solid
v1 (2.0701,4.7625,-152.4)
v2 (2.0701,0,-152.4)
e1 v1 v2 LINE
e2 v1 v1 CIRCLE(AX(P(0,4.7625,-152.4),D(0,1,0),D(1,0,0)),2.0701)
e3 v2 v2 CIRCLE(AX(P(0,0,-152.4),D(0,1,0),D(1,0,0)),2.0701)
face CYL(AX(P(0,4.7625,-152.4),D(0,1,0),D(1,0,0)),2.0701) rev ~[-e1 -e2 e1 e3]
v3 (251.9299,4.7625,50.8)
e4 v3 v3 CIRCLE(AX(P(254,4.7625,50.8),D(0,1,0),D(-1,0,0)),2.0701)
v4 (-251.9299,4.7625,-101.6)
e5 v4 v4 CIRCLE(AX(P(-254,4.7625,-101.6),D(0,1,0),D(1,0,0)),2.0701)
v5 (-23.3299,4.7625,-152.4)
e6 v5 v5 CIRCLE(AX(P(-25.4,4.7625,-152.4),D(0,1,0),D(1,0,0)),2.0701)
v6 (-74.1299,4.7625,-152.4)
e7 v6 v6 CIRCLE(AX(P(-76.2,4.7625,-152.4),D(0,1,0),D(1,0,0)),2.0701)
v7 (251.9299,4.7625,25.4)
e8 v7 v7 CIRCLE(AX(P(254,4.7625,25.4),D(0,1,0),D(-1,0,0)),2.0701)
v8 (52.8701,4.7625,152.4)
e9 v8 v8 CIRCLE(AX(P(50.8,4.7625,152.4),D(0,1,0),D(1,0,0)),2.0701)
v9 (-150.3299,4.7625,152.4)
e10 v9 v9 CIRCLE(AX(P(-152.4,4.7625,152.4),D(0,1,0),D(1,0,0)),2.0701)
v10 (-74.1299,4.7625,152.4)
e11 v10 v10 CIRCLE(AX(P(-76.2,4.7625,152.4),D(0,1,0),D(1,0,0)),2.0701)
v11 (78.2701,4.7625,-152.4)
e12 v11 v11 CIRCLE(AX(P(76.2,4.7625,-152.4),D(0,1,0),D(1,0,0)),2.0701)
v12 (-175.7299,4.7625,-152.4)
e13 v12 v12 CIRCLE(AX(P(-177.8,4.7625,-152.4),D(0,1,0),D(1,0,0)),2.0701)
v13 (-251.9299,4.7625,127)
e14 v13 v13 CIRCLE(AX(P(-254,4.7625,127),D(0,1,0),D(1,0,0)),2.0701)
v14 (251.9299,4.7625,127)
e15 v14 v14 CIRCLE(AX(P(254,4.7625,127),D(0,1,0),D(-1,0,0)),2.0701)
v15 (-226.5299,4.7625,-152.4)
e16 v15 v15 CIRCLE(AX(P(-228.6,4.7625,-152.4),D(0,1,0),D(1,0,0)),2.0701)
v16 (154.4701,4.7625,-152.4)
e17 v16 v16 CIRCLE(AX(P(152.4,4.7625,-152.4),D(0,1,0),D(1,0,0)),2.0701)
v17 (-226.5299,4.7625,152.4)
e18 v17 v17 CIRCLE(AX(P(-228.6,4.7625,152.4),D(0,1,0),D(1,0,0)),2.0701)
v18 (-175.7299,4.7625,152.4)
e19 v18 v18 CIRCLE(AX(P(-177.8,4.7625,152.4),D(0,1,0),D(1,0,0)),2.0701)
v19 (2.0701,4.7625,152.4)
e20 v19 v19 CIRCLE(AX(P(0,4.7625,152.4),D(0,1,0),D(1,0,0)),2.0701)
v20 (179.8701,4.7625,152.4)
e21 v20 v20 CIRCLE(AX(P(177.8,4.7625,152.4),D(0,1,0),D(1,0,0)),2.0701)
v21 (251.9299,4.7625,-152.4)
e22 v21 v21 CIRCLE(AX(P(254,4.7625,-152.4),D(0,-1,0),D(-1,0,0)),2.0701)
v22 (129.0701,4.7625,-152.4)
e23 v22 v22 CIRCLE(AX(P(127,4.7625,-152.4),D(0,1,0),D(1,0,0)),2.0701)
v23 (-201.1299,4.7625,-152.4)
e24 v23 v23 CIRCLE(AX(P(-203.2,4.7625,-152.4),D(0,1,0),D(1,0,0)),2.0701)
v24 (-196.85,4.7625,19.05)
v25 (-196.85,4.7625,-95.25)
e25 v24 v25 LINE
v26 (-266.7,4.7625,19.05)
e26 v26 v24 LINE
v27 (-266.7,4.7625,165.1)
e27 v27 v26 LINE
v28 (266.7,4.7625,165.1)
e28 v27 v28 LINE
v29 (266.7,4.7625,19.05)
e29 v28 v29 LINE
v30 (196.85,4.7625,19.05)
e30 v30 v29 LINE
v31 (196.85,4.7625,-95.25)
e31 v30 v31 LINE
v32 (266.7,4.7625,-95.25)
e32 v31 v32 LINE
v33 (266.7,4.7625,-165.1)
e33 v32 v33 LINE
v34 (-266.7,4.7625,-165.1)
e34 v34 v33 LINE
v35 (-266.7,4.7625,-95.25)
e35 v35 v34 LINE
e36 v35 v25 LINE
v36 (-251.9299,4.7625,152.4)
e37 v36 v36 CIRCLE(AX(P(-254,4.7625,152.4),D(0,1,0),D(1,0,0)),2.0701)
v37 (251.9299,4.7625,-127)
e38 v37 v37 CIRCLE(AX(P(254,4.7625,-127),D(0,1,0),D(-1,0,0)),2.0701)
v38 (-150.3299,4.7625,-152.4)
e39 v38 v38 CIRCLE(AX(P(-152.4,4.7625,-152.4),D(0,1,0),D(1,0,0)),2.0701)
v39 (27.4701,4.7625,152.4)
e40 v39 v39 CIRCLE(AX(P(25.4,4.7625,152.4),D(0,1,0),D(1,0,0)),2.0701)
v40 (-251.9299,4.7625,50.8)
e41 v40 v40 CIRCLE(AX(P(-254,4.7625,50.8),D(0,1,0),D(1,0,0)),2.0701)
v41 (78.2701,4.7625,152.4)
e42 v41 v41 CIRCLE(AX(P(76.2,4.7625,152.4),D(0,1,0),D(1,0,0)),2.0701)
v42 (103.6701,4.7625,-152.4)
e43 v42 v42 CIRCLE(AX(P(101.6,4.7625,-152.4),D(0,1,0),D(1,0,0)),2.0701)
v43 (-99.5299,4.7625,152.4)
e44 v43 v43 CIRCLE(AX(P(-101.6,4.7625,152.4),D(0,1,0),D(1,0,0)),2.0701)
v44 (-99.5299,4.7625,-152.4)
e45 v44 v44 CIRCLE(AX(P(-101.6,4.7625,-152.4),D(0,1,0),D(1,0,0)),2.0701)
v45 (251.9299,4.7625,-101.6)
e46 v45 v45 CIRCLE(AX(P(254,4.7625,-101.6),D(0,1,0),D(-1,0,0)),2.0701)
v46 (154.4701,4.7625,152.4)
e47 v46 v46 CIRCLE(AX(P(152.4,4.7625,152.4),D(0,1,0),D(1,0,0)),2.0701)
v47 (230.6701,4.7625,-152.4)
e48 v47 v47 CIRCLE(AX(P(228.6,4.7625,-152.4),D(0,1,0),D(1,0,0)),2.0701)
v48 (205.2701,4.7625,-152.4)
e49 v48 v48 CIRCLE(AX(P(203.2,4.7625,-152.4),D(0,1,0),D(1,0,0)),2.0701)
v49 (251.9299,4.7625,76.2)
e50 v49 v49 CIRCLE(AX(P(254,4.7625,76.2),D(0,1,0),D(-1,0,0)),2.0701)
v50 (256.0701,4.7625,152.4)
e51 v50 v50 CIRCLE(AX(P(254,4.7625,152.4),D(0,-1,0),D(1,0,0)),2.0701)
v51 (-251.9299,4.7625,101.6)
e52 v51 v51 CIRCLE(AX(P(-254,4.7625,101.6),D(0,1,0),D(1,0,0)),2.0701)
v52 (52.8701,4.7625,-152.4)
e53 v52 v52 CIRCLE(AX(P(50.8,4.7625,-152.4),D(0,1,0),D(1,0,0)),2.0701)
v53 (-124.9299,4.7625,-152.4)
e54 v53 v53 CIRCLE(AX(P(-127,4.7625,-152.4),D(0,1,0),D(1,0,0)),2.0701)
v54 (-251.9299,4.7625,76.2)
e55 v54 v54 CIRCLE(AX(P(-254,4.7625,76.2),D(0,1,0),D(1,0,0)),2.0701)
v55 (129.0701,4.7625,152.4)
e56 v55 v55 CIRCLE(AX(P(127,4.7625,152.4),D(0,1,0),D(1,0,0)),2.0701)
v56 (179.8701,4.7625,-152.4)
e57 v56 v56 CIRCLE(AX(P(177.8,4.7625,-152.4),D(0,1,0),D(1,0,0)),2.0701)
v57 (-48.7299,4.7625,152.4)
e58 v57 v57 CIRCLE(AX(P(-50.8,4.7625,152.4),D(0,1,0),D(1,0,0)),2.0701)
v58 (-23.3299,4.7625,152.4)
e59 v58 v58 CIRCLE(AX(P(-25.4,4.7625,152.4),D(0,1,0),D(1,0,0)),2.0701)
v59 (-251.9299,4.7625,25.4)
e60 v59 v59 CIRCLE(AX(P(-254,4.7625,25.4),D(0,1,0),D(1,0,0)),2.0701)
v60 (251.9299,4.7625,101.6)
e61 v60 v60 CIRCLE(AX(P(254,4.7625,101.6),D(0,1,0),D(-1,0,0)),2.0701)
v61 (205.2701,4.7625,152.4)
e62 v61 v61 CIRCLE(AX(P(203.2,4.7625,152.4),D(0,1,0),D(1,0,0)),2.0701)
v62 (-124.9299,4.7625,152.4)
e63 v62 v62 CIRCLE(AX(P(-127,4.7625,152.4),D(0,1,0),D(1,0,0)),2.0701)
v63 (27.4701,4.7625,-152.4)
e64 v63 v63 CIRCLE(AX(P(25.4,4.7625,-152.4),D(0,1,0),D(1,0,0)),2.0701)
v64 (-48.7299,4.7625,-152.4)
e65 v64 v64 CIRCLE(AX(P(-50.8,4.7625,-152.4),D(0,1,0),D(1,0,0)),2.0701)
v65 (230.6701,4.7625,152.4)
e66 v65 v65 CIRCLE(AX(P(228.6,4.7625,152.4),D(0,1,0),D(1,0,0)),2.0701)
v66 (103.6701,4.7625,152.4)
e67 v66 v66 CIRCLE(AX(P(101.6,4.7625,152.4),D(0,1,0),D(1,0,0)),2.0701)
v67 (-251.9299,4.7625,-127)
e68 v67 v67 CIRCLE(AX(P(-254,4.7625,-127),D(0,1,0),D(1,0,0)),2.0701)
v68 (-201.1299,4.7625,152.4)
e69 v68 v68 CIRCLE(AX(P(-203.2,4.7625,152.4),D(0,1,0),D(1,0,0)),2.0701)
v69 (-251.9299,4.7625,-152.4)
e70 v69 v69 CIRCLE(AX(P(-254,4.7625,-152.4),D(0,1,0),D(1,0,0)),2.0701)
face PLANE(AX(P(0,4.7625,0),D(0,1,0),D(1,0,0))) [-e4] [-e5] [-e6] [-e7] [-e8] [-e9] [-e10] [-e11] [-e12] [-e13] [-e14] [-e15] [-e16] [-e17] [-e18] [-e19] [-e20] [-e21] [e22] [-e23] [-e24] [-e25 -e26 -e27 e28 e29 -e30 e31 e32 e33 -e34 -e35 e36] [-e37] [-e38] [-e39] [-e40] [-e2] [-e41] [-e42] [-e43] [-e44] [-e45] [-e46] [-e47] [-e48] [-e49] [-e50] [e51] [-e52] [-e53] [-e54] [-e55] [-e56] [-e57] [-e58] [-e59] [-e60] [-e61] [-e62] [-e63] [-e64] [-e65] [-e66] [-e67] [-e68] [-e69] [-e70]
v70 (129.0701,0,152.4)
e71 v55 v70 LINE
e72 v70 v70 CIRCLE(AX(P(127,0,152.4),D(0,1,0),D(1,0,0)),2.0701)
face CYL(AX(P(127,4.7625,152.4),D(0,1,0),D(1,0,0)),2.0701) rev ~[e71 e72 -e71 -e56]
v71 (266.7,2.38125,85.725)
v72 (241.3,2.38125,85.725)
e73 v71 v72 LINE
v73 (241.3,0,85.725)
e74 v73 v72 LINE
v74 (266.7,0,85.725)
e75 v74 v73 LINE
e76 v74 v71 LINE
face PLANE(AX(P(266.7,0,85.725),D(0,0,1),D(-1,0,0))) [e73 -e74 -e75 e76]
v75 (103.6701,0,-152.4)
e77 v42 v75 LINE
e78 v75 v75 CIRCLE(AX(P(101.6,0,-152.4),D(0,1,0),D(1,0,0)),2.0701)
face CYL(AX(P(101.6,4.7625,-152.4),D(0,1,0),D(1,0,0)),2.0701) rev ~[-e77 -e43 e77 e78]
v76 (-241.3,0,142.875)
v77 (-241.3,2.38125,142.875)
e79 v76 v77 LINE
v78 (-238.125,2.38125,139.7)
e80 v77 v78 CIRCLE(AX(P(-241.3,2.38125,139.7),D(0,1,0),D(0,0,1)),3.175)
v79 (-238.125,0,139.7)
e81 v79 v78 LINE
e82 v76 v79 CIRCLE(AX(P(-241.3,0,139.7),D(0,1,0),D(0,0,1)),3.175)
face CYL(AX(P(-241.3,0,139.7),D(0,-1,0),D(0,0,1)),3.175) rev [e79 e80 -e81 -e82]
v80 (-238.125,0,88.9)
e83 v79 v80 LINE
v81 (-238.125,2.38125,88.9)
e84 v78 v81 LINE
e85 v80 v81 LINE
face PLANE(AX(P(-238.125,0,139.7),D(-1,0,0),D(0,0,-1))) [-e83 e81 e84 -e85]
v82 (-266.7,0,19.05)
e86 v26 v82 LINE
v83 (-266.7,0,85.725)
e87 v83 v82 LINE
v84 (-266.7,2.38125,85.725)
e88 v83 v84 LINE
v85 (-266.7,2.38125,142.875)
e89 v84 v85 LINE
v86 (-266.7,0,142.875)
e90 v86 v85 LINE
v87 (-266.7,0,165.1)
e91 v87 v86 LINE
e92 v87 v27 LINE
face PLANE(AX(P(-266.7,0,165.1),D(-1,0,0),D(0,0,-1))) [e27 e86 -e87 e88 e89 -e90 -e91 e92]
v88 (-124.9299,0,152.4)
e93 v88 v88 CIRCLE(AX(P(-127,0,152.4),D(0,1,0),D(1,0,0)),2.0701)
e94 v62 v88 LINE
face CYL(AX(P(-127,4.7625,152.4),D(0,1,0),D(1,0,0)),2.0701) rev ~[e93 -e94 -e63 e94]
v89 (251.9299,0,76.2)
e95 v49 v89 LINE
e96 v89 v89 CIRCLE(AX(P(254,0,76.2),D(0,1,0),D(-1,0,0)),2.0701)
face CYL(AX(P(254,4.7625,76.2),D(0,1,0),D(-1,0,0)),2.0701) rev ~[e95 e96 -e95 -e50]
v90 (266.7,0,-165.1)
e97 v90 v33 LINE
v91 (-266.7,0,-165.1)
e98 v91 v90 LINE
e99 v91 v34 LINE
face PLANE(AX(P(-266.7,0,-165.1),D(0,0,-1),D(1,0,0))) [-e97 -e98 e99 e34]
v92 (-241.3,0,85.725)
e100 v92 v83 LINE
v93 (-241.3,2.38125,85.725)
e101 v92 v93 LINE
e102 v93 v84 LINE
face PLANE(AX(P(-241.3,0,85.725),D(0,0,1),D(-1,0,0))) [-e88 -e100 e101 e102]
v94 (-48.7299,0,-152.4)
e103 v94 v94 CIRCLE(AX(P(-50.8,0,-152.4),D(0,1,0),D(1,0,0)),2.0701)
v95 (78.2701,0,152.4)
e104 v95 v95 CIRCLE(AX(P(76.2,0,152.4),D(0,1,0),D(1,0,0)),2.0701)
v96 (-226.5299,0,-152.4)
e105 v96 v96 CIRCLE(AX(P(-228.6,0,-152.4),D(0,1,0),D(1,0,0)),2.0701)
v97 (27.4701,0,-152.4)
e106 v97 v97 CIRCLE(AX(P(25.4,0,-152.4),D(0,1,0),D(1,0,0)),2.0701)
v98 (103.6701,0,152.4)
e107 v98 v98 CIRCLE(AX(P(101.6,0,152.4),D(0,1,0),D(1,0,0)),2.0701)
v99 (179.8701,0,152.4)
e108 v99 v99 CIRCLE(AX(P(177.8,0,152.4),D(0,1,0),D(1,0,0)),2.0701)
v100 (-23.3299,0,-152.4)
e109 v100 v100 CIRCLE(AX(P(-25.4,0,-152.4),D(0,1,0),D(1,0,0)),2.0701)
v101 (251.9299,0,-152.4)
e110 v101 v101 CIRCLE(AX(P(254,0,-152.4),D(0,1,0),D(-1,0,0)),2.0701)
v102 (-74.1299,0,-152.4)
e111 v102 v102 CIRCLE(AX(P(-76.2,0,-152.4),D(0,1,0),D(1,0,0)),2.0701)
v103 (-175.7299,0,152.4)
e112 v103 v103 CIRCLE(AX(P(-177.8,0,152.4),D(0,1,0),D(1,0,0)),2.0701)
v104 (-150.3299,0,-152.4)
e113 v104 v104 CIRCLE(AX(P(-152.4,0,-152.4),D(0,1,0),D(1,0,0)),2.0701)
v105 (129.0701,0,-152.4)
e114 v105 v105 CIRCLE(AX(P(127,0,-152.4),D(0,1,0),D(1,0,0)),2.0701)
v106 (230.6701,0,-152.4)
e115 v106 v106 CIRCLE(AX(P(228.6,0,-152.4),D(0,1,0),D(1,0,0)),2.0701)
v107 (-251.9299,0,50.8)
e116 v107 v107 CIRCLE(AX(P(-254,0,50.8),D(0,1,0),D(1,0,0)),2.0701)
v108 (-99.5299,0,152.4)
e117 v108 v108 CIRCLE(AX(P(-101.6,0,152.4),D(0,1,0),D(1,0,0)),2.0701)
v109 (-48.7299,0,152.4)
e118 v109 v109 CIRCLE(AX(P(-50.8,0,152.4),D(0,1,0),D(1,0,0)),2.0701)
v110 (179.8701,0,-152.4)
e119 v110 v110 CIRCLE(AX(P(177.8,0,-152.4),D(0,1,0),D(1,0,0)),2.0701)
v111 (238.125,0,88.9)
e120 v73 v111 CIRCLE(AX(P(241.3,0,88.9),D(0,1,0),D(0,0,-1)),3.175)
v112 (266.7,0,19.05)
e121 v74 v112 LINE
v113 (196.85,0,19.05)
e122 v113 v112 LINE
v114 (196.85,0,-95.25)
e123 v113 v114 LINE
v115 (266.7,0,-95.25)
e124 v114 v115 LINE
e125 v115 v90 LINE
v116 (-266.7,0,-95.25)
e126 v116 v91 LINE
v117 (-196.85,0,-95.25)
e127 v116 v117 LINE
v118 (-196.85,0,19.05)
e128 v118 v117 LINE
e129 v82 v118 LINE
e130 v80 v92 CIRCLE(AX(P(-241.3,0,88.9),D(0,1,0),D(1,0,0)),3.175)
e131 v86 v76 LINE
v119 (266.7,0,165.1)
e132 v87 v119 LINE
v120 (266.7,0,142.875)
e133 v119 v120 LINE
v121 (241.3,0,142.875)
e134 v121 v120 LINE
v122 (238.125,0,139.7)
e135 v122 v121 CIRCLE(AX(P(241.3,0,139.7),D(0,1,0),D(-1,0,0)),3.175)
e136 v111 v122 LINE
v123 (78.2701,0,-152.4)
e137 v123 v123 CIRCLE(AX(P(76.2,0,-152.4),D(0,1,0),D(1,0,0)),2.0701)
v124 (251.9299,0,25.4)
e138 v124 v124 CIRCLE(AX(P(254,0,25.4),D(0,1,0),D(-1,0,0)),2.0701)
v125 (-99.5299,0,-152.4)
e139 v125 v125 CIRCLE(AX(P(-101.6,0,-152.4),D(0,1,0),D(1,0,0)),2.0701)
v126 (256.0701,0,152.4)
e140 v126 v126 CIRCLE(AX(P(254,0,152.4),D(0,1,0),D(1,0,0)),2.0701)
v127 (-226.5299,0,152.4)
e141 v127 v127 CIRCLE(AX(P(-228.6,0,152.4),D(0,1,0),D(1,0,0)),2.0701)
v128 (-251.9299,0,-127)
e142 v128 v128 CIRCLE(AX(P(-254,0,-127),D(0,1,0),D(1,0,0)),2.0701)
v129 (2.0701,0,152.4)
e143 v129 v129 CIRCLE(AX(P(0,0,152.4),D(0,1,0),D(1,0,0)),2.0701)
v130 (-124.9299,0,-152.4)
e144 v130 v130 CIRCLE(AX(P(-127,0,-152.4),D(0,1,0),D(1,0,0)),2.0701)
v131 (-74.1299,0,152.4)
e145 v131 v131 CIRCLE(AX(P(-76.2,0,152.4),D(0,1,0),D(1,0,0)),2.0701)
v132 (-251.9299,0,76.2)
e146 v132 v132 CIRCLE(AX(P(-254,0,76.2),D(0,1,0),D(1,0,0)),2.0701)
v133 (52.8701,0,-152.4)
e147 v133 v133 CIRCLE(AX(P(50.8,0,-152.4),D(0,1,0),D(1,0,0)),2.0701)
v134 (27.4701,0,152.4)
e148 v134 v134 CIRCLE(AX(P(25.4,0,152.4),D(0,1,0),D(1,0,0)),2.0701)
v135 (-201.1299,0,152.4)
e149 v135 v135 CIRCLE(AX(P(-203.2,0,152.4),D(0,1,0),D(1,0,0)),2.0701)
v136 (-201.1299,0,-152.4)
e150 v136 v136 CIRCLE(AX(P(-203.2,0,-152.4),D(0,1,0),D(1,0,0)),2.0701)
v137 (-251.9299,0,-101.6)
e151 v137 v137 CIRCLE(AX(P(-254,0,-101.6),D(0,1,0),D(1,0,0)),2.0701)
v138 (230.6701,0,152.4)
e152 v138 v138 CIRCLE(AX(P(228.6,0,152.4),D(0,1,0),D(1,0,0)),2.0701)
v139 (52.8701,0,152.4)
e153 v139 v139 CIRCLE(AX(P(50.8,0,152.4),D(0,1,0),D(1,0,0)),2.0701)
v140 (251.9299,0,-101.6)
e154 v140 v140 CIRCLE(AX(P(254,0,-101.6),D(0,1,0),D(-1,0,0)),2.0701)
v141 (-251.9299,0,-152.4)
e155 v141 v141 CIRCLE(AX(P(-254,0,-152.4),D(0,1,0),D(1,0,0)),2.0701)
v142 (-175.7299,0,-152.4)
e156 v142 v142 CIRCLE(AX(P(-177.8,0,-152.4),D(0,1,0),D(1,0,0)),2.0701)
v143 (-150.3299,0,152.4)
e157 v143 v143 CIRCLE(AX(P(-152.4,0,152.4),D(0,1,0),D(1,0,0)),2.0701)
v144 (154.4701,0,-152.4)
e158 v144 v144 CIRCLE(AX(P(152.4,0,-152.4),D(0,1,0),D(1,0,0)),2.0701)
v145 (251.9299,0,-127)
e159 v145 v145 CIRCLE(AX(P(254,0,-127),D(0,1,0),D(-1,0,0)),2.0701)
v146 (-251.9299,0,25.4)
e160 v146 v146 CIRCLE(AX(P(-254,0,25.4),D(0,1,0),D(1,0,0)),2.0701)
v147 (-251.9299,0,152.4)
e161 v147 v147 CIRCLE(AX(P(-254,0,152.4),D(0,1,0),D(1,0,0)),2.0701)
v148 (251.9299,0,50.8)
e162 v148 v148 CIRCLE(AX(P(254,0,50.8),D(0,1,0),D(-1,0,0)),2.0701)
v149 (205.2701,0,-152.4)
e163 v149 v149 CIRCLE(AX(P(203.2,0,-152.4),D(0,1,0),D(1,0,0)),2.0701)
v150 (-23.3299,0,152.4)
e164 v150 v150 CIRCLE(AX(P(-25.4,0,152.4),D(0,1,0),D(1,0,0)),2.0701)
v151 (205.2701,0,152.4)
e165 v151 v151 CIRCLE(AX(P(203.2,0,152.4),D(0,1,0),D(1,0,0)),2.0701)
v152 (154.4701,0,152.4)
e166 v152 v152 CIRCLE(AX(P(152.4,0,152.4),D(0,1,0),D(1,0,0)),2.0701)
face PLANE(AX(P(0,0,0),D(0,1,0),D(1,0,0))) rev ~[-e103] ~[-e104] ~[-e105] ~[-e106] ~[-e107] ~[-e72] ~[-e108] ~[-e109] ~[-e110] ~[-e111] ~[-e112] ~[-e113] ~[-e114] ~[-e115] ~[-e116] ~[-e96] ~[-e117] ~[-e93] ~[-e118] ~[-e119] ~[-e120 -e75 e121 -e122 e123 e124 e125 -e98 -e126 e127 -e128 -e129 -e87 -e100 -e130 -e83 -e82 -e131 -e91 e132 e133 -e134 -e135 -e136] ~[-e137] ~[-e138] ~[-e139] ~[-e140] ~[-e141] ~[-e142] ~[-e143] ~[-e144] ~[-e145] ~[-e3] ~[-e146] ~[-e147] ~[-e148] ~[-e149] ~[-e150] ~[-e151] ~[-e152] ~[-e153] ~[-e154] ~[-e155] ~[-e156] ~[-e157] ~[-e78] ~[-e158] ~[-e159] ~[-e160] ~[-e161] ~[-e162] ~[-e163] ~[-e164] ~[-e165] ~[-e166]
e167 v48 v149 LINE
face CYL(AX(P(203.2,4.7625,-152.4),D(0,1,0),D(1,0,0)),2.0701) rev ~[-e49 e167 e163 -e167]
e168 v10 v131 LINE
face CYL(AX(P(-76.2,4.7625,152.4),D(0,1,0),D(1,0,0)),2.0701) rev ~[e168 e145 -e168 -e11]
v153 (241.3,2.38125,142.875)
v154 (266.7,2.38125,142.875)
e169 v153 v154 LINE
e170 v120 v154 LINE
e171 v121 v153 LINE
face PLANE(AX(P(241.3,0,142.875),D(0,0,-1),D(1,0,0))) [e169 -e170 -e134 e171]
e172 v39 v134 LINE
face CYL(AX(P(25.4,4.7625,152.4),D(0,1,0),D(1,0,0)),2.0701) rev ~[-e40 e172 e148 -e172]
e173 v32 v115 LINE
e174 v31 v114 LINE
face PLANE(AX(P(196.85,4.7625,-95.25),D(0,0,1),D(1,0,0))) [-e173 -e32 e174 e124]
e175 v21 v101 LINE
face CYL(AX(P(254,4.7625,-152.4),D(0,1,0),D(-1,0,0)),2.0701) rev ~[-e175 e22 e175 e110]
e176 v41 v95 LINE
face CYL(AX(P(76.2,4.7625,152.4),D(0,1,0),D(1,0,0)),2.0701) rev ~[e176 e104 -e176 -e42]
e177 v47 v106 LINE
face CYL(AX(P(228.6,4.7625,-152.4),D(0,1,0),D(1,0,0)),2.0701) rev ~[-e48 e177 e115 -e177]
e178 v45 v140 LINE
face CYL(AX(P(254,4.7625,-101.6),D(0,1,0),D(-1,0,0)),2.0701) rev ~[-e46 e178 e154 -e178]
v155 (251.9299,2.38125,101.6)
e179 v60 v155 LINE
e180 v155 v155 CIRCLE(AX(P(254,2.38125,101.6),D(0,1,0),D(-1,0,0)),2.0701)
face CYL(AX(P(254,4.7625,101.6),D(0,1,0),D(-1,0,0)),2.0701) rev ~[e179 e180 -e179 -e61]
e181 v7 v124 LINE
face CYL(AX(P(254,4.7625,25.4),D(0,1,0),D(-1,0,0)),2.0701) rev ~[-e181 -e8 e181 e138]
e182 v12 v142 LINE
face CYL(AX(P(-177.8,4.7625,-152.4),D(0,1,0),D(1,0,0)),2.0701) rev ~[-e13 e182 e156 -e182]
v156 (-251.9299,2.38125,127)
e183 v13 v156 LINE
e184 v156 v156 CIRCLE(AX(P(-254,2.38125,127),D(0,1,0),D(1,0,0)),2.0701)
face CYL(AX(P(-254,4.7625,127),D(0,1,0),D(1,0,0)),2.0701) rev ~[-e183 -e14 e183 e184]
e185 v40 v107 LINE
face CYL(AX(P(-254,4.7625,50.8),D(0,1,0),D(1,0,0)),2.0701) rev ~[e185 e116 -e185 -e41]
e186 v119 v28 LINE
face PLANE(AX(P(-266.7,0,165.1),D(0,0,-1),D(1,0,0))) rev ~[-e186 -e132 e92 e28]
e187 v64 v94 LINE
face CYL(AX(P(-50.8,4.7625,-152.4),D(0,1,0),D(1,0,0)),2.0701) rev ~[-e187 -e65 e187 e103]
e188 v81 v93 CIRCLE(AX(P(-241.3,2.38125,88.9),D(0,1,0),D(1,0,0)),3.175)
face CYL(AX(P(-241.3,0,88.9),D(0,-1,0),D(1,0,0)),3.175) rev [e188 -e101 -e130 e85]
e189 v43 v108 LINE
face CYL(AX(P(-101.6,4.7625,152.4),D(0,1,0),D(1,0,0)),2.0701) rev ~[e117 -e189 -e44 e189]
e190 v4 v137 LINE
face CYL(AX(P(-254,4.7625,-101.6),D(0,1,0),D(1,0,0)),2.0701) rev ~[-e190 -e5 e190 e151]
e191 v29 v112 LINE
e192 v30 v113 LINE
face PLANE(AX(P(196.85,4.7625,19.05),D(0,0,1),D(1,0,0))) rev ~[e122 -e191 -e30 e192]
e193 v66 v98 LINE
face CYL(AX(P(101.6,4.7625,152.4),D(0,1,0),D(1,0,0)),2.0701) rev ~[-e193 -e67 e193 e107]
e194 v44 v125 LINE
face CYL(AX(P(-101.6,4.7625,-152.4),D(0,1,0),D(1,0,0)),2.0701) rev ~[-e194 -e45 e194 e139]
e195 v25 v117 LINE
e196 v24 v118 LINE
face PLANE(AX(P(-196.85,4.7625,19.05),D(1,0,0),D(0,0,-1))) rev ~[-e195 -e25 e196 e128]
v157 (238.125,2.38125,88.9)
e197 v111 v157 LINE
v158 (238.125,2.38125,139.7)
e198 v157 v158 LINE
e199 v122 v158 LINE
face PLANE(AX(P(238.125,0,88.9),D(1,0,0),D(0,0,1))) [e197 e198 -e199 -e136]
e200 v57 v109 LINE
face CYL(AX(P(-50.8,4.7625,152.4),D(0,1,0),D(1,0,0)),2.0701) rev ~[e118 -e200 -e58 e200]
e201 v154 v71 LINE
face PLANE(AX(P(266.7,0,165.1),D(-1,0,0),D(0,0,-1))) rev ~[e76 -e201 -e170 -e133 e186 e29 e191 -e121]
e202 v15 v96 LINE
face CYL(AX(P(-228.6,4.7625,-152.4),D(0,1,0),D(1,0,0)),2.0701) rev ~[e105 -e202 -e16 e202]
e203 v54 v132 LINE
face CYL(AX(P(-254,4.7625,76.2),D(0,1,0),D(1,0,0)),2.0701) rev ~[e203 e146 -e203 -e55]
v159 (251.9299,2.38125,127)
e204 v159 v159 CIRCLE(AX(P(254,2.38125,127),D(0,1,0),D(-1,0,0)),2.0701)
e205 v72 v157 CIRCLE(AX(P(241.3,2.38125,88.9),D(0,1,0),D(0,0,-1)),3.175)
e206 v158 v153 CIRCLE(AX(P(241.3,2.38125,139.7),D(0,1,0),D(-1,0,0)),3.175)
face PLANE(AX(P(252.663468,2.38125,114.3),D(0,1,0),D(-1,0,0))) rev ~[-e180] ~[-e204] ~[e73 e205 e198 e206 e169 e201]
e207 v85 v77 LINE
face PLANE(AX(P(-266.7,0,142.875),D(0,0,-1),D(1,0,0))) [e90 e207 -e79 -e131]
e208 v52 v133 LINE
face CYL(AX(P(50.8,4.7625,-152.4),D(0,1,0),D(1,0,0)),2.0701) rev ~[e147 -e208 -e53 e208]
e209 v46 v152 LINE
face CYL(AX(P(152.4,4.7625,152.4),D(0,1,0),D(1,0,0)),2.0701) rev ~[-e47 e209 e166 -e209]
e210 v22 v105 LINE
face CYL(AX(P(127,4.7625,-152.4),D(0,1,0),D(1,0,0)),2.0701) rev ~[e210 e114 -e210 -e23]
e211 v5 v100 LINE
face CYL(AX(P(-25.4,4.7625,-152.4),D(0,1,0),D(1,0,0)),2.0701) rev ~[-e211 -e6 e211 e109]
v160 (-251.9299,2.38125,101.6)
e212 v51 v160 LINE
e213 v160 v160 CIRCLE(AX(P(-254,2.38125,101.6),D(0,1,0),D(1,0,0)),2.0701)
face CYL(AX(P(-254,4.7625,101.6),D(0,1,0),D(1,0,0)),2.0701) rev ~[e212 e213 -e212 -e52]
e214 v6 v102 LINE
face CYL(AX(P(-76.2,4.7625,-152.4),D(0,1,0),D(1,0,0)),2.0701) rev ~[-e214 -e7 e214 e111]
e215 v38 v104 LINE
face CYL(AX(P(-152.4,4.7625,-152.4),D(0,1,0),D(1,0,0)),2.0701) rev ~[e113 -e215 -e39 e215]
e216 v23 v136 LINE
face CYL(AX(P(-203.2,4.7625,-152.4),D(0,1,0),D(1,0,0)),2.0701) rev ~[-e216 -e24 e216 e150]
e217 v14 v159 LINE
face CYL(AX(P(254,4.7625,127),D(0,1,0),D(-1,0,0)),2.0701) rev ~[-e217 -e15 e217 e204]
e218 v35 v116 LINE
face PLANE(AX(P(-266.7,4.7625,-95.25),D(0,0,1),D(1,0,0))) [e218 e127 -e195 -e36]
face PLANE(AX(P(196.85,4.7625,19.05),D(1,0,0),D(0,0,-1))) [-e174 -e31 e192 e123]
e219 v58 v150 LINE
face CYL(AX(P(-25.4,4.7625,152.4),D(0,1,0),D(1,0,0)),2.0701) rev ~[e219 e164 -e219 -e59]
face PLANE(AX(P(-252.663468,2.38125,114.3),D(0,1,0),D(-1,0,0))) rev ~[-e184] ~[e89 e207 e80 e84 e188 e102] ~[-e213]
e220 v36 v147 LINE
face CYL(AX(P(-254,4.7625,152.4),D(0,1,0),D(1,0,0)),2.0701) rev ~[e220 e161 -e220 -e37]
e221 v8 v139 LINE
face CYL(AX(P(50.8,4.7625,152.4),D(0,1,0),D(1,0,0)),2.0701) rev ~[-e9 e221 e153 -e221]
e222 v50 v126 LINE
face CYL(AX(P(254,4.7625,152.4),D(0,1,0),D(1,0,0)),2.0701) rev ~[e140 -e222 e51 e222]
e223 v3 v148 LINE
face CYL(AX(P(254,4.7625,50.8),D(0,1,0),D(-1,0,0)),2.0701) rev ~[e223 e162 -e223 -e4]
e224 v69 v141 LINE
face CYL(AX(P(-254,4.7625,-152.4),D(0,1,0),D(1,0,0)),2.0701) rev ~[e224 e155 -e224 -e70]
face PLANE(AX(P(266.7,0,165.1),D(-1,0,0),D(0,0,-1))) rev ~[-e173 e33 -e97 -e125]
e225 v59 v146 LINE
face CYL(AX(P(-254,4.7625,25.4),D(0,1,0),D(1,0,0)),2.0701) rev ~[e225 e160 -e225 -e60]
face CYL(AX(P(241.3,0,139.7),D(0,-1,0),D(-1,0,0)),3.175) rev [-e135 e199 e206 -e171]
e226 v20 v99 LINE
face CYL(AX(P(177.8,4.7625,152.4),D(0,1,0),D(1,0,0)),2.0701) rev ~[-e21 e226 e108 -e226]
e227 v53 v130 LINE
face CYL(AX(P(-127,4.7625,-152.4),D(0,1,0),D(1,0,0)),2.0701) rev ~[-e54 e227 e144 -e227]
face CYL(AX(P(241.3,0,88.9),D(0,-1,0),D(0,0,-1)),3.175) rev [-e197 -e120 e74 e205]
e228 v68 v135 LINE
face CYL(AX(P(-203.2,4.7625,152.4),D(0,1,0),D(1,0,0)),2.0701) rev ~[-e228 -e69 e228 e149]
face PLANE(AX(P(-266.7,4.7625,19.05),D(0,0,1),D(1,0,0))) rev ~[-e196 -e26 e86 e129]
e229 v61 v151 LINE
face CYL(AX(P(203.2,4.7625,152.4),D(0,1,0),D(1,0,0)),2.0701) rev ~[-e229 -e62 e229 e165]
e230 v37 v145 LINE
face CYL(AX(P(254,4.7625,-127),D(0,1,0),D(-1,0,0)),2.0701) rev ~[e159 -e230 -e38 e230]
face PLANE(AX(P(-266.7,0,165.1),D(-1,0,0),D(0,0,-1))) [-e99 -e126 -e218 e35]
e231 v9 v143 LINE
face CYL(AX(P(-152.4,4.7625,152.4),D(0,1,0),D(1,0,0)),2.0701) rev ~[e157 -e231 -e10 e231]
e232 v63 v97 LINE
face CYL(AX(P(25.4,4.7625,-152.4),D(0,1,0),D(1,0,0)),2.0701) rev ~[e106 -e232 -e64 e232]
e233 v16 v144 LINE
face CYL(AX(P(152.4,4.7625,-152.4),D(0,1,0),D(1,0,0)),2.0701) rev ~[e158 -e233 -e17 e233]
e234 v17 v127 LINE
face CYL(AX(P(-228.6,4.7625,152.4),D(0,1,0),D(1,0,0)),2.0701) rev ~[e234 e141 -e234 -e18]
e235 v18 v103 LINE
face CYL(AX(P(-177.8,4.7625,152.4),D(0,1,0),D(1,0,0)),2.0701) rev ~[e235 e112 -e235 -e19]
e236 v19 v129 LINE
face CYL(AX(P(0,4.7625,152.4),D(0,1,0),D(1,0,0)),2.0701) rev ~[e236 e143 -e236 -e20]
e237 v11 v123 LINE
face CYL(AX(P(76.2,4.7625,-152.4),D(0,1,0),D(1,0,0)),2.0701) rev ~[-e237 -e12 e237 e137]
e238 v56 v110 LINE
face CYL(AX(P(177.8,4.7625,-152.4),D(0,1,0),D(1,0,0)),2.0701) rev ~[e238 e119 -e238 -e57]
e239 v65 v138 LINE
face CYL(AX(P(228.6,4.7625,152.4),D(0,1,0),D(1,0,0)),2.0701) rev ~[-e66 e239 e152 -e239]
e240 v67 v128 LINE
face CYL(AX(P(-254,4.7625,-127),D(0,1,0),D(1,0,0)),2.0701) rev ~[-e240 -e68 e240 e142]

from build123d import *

# Parameters (mm, degrees)
SKETCH1_W                = 533.4
SKETCH1_H                = 330.2
BOSS_EXTRUDE1_DEPTH      = 4.7625
SKETCH2_R                = 2.0701
CUT_EXTRUDE1_DEPTH       = 5.7625
LPATTERN1_COUNT          = 23
LPATTERN1_PITCH          = 25.4
LPATTERN2_COUNT          = 32
LPATTERN2_PITCH          = 25.4
MIRROR2_COPY_1_SKETCH_R  = 2.0701
MIRROR2_COPY_1_DEPTH     = 5.7625
MIRROR2_COPY_2_SKETCH_R  = 2.0701
MIRROR2_COPY_2_DEPTH     = 5.7625
MIRROR2_COPY_3_SKETCH_R  = 2.0701
MIRROR2_COPY_3_DEPTH     = 5.7625
MIRROR2_COPY_4_SKETCH_R  = 2.0701
MIRROR2_COPY_4_DEPTH     = 5.7625
MIRROR2_COPY_5_SKETCH_R  = 2.0701
MIRROR2_COPY_5_DEPTH     = 5.7625
MIRROR2_COPY_6_SKETCH_R  = 2.0701
MIRROR2_COPY_6_DEPTH     = 5.7625
MIRROR2_COPY_7_SKETCH_R  = 2.0701
MIRROR2_COPY_7_DEPTH     = 5.7625
MIRROR2_COPY_8_SKETCH_R  = 2.0701
MIRROR2_COPY_8_DEPTH     = 5.7625
MIRROR2_COPY_9_SKETCH_R  = 2.0701
MIRROR2_COPY_9_DEPTH     = 5.7625
MIRROR2_COPY_10_SKETCH_R = 2.0701
MIRROR2_COPY_10_DEPTH    = 5.7625
MIRROR2_COPY_11_SKETCH_R = 2.0701
MIRROR2_COPY_11_DEPTH    = 5.7625
MIRROR2_COPY_12_SKETCH_R = 2.0701
MIRROR2_COPY_12_DEPTH    = 5.7625
MIRROR2_COPY_13_SKETCH_R = 2.0701
MIRROR2_COPY_13_DEPTH    = 5.7625
MIRROR2_COPY_14_SKETCH_R = 2.0701
MIRROR2_COPY_14_DEPTH    = 5.7625
MIRROR2_COPY_15_SKETCH_R = 2.0701
MIRROR2_COPY_15_DEPTH    = 5.7625
MIRROR2_COPY_16_SKETCH_R = 2.0701
MIRROR2_COPY_16_DEPTH    = 5.7625
MIRROR2_COPY_17_SKETCH_R = 2.0701
MIRROR2_COPY_17_DEPTH    = 5.7625
MIRROR2_COPY_18_SKETCH_R = 2.0701
MIRROR2_COPY_18_DEPTH    = 5.7625
MIRROR2_COPY_19_SKETCH_R = 2.0701
MIRROR2_COPY_19_DEPTH    = 5.7625
MIRROR2_COPY_20_SKETCH_R = 2.0701
MIRROR2_COPY_20_DEPTH    = 5.7625
MIRROR2_COPY_21_SKETCH_R = 2.0701
MIRROR2_COPY_21_DEPTH    = 5.7625
MIRROR2_COPY_22_SKETCH_R = 2.0701
MIRROR2_COPY_22_DEPTH    = 5.7625
MIRROR2_COPY_23_SKETCH_R = 2.0701
MIRROR2_COPY_23_DEPTH    = 5.7625
MIRROR2_COPY_24_SKETCH_R = 2.0701
MIRROR2_COPY_24_DEPTH    = 5.7625
MIRROR2_COPY_25_SKETCH_R = 2.0701
MIRROR2_COPY_25_DEPTH    = 5.7625
MIRROR2_COPY_26_SKETCH_R = 2.0701
MIRROR2_COPY_26_DEPTH    = 5.7625
MIRROR2_COPY_27_SKETCH_R = 2.0701
MIRROR2_COPY_27_DEPTH    = 5.7625
MIRROR2_COPY_28_SKETCH_R = 2.0701
MIRROR2_COPY_28_DEPTH    = 5.7625
MIRROR2_COPY_29_SKETCH_R = 2.0701
MIRROR2_COPY_29_DEPTH    = 5.7625
MIRROR2_COPY_30_SKETCH_R = 2.0701
MIRROR2_COPY_30_DEPTH    = 5.7625
MIRROR2_COPY_31_SKETCH_R = 2.0701
MIRROR2_COPY_31_DEPTH    = 5.7625
MIRROR2_COPY_32_SKETCH_R = 2.0701
MIRROR2_COPY_32_DEPTH    = 5.7625
MIRROR3_COPY_1_SKETCH_R  = 2.0701
MIRROR3_COPY_1_DEPTH     = 5.7625
MIRROR3_COPY_2_SKETCH_R  = 2.0701
MIRROR3_COPY_2_DEPTH     = 5.7625
MIRROR3_COPY_3_SKETCH_R  = 2.0701
MIRROR3_COPY_3_DEPTH     = 5.7625
MIRROR3_COPY_4_SKETCH_R  = 2.0701
MIRROR3_COPY_4_DEPTH     = 5.7625
MIRROR3_COPY_5_SKETCH_R  = 2.0701
MIRROR3_COPY_5_DEPTH     = 5.7625
MIRROR3_COPY_6_SKETCH_R  = 2.0701
MIRROR3_COPY_6_DEPTH     = 5.7625
MIRROR3_COPY_7_SKETCH_R  = 2.0701
MIRROR3_COPY_7_DEPTH     = 5.7625
MIRROR3_COPY_8_SKETCH_R  = 2.0701
MIRROR3_COPY_8_DEPTH     = 5.7625
MIRROR3_COPY_9_SKETCH_R  = 2.0701
MIRROR3_COPY_9_DEPTH     = 5.7625
MIRROR3_COPY_10_SKETCH_R = 2.0701
MIRROR3_COPY_10_DEPTH    = 5.7625
MIRROR3_COPY_11_SKETCH_R = 2.0701
MIRROR3_COPY_11_DEPTH    = 5.7625
MIRROR3_COPY_12_SKETCH_R = 2.0701
MIRROR3_COPY_12_DEPTH    = 5.7625
MIRROR3_COPY_13_SKETCH_R = 2.0701
MIRROR3_COPY_13_DEPTH    = 5.7625
MIRROR3_COPY_14_SKETCH_R = 2.0701
MIRROR3_COPY_14_DEPTH    = 5.7625
MIRROR3_COPY_15_SKETCH_R = 2.0701
MIRROR3_COPY_15_DEPTH    = 5.7625
MIRROR3_COPY_16_SKETCH_R = 2.0701
MIRROR3_COPY_16_DEPTH    = 5.7625
MIRROR3_COPY_17_SKETCH_R = 2.0701
MIRROR3_COPY_17_DEPTH    = 5.7625
MIRROR3_COPY_18_SKETCH_R = 2.0701
MIRROR3_COPY_18_DEPTH    = 5.7625
MIRROR3_COPY_19_SKETCH_R = 2.0701
MIRROR3_COPY_19_DEPTH    = 5.7625
MIRROR3_COPY_20_SKETCH_R = 2.0701
MIRROR3_COPY_20_DEPTH    = 5.7625
MIRROR3_COPY_21_SKETCH_R = 2.0701
MIRROR3_COPY_21_DEPTH    = 5.7625
MIRROR3_COPY_22_SKETCH_R = 2.0701
MIRROR3_COPY_22_DEPTH    = 5.7625
MIRROR3_COPY_23_SKETCH_R = 2.0701
MIRROR3_COPY_23_DEPTH    = 5.7625
CUT_EXTRUDE2_DEPTH       = 2.38125
SKETCH4_W                = 69.85
SKETCH4_H                = 114.3
CUT_EXTRUDE3_DEPTH       = 5.7625


with BuildPart() as part:
    # Sketch1 → Boss-Extrude1 (new body)
    with BuildSketch(Plane(origin=(0, 0, 0), x_dir=(1, 0, 0), z_dir=(0, 1, 0))):
        Rectangle(SKETCH1_W, SKETCH1_H)
    extrude(amount=BOSS_EXTRUDE1_DEPTH)

    # Sketch2 → Cut-Extrude1 (cut, through all)
    with BuildSketch(Plane(origin=(0, 4.7625, 0), x_dir=(1, 0, 0), z_dir=(0, 1, 0))):
        with Locations((-254, -152.4)):
            Circle(SKETCH2_R)
    cut_extrude1 = extrude(amount=-CUT_EXTRUDE1_DEPTH, mode=Mode.SUBTRACT)

    # LPattern1: Cut-Extrude1 ×23
    with Locations(*[(i * LPATTERN1_PITCH, 0, 0) for i in range(1, LPATTERN1_COUNT)]):
        add(cut_extrude1, mode=Mode.SUBTRACT)

    # LPattern2: Cut-Extrude1 ×32
    with Locations(*[(0, 0, -i * LPATTERN2_PITCH) for i in range(1, LPATTERN2_COUNT)]):
        add(cut_extrude1, mode=Mode.SUBTRACT)

    # Mirror2 copy 1 sketch → Mirror2 copy 1 (cut, through all)
    with BuildSketch(Plane(origin=(0, 4.7625, -25.4), x_dir=(-1, 0, 0), z_dir=(0, 1, 0))):
        with Locations((-254, 152.4)):
            Circle(MIRROR2_COPY_1_SKETCH_R)
    extrude(amount=-MIRROR2_COPY_1_DEPTH, mode=Mode.SUBTRACT)

    # Mirror2 copy 2 sketch → Mirror2 copy 2 (cut, through all)
    with BuildSketch(Plane(origin=(0, 4.7625, -50.8), x_dir=(-1, 0, 0), z_dir=(0, 1, 0))):
        with Locations((-254, 152.4)):
            Circle(MIRROR2_COPY_2_SKETCH_R)
    extrude(amount=-MIRROR2_COPY_2_DEPTH, mode=Mode.SUBTRACT)

    # Mirror2 copy 3 sketch → Mirror2 copy 3 (cut, through all)
    with BuildSketch(Plane(origin=(0, 4.7625, -76.2), x_dir=(-1, 0, 0), z_dir=(0, 1, 0))):
        with Locations((-254, 152.4)):
            Circle(MIRROR2_COPY_3_SKETCH_R)
    extrude(amount=-MIRROR2_COPY_3_DEPTH, mode=Mode.SUBTRACT)

    # Mirror2 copy 4 sketch → Mirror2 copy 4 (cut, through all)
    with BuildSketch(Plane(origin=(0, 4.7625, -101.6), x_dir=(-1, 0, 0), z_dir=(0, 1, 0))):
        with Locations((-254, 152.4)):
            Circle(MIRROR2_COPY_4_SKETCH_R)
    extrude(amount=-MIRROR2_COPY_4_DEPTH, mode=Mode.SUBTRACT)

    # Mirror2 copy 5 sketch → Mirror2 copy 5 (cut, through all)
    with BuildSketch(Plane(origin=(0, 4.7625, -127), x_dir=(-1, 0, 0), z_dir=(0, 1, 0))):
        with Locations((-254, 152.4)):
            Circle(MIRROR2_COPY_5_SKETCH_R)
    extrude(amount=-MIRROR2_COPY_5_DEPTH, mode=Mode.SUBTRACT)

    # Mirror2 copy 6 sketch → Mirror2 copy 6 (cut, through all)
    with BuildSketch(Plane(origin=(0, 4.7625, -152.4), x_dir=(-1, 0, 0), z_dir=(0, 1, 0))):
        with Locations((-254, 152.4)):
            Circle(MIRROR2_COPY_6_SKETCH_R)
    extrude(amount=-MIRROR2_COPY_6_DEPTH, mode=Mode.SUBTRACT)

    # Mirror2 copy 7 sketch → Mirror2 copy 7 (cut, through all)
    with BuildSketch(Plane(origin=(0, 4.7625, -177.8), x_dir=(-1, 0, 0), z_dir=(0, 1, 0))):
        with Locations((-254, 152.4)):
            Circle(MIRROR2_COPY_7_SKETCH_R)
    extrude(amount=-MIRROR2_COPY_7_DEPTH, mode=Mode.SUBTRACT)

    # Mirror2 copy 8 sketch → Mirror2 copy 8 (cut, through all)
    with BuildSketch(Plane(origin=(0, 4.7625, -203.2), x_dir=(-1, 0, 0), z_dir=(0, 1, 0))):
        with Locations((-254, 152.4)):
            Circle(MIRROR2_COPY_8_SKETCH_R)
    extrude(amount=-MIRROR2_COPY_8_DEPTH, mode=Mode.SUBTRACT)

    # Mirror2 copy 9 sketch → Mirror2 copy 9 (cut, through all)
    with BuildSketch(Plane(origin=(0, 4.7625, -228.6), x_dir=(-1, 0, 0), z_dir=(0, 1, 0))):
        with Locations((-254, 152.4)):
            Circle(MIRROR2_COPY_9_SKETCH_R)
    extrude(amount=-MIRROR2_COPY_9_DEPTH, mode=Mode.SUBTRACT)

    # Mirror2 copy 10 sketch → Mirror2 copy 10 (cut, through all)
    with BuildSketch(Plane(origin=(0, 4.7625, -254), x_dir=(-1, 0, 0), z_dir=(0, 1, 0))):
        with Locations((-254, 152.4)):
            Circle(MIRROR2_COPY_10_SKETCH_R)
    extrude(amount=-MIRROR2_COPY_10_DEPTH, mode=Mode.SUBTRACT)

    # Mirror2 copy 11 sketch → Mirror2 copy 11 (cut, through all)
    with BuildSketch(Plane(origin=(0, 4.7625, -279.4), x_dir=(-1, 0, 0), z_dir=(0, 1, 0))):
        with Locations((-254, 152.4)):
            Circle(MIRROR2_COPY_11_SKETCH_R)
    extrude(amount=-MIRROR2_COPY_11_DEPTH, mode=Mode.SUBTRACT)

    # Mirror2 copy 12 sketch → Mirror2 copy 12 (cut, through all)
    with BuildSketch(Plane(origin=(0, 4.7625, -304.8), x_dir=(-1, 0, 0), z_dir=(0, 1, 0))):
        with Locations((-254, 152.4)):
            Circle(MIRROR2_COPY_12_SKETCH_R)
    extrude(amount=-MIRROR2_COPY_12_DEPTH, mode=Mode.SUBTRACT)

    # Mirror2 copy 13 sketch → Mirror2 copy 13 (cut, through all)
    with BuildSketch(Plane(origin=(0, 4.7625, -330.2), x_dir=(-1, 0, 0), z_dir=(0, 1, 0))):
        with Locations((-254, 152.4)):
            Circle(MIRROR2_COPY_13_SKETCH_R)
    extrude(amount=-MIRROR2_COPY_13_DEPTH, mode=Mode.SUBTRACT)

    # Mirror2 copy 14 sketch → Mirror2 copy 14 (cut, through all)
    with BuildSketch(Plane(origin=(0, 4.7625, -355.6), x_dir=(-1, 0, 0), z_dir=(0, 1, 0))):
        with Locations((-254, 152.4)):
            Circle(MIRROR2_COPY_14_SKETCH_R)
    extrude(amount=-MIRROR2_COPY_14_DEPTH, mode=Mode.SUBTRACT)

    # Mirror2 copy 15 sketch → Mirror2 copy 15 (cut, through all)
    with BuildSketch(Plane(origin=(0, 4.7625, -381), x_dir=(-1, 0, 0), z_dir=(0, 1, 0))):
        with Locations((-254, 152.4)):
            Circle(MIRROR2_COPY_15_SKETCH_R)
    extrude(amount=-MIRROR2_COPY_15_DEPTH, mode=Mode.SUBTRACT)

    # Mirror2 copy 16 sketch → Mirror2 copy 16 (cut, through all)
    with BuildSketch(Plane(origin=(0, 4.7625, -406.4), x_dir=(-1, 0, 0), z_dir=(0, 1, 0))):
        with Locations((-254, 152.4)):
            Circle(MIRROR2_COPY_16_SKETCH_R)
    extrude(amount=-MIRROR2_COPY_16_DEPTH, mode=Mode.SUBTRACT)

    # Mirror2 copy 17 sketch → Mirror2 copy 17 (cut, through all)
    with BuildSketch(Plane(origin=(0, 4.7625, -431.8), x_dir=(-1, 0, 0), z_dir=(0, 1, 0))):
        with Locations((-254, 152.4)):
            Circle(MIRROR2_COPY_17_SKETCH_R)
    extrude(amount=-MIRROR2_COPY_17_DEPTH, mode=Mode.SUBTRACT)

    # Mirror2 copy 18 sketch → Mirror2 copy 18 (cut, through all)
    with BuildSketch(Plane(origin=(0, 4.7625, -457.2), x_dir=(-1, 0, 0), z_dir=(0, 1, 0))):
        with Locations((-254, 152.4)):
            Circle(MIRROR2_COPY_18_SKETCH_R)
    extrude(amount=-MIRROR2_COPY_18_DEPTH, mode=Mode.SUBTRACT)

    # Mirror2 copy 19 sketch → Mirror2 copy 19 (cut, through all)
    with BuildSketch(Plane(origin=(0, 4.7625, -482.6), x_dir=(-1, 0, 0), z_dir=(0, 1, 0))):
        with Locations((-254, 152.4)):
            Circle(MIRROR2_COPY_19_SKETCH_R)
    extrude(amount=-MIRROR2_COPY_19_DEPTH, mode=Mode.SUBTRACT)

    # Mirror2 copy 20 sketch → Mirror2 copy 20 (cut, through all)
    with BuildSketch(Plane(origin=(0, 4.7625, -508), x_dir=(-1, 0, 0), z_dir=(0, 1, 0))):
        with Locations((-254, 152.4)):
            Circle(MIRROR2_COPY_20_SKETCH_R)
    extrude(amount=-MIRROR2_COPY_20_DEPTH, mode=Mode.SUBTRACT)

    # Mirror2 copy 21 sketch → Mirror2 copy 21 (cut, through all)
    with BuildSketch(Plane(origin=(0, 4.7625, -533.4), x_dir=(-1, 0, 0), z_dir=(0, 1, 0))):
        with Locations((-254, 152.4)):
            Circle(MIRROR2_COPY_21_SKETCH_R)
    extrude(amount=-MIRROR2_COPY_21_DEPTH, mode=Mode.SUBTRACT)

    # Mirror2 copy 22 sketch → Mirror2 copy 22 (cut, through all)
    with BuildSketch(Plane(origin=(0, 4.7625, -558.8), x_dir=(-1, 0, 0), z_dir=(0, 1, 0))):
        with Locations((-254, 152.4)):
            Circle(MIRROR2_COPY_22_SKETCH_R)
    extrude(amount=-MIRROR2_COPY_22_DEPTH, mode=Mode.SUBTRACT)

    # Mirror2 copy 23 sketch → Mirror2 copy 23 (cut, through all)
    with BuildSketch(Plane(origin=(0, 4.7625, -584.2), x_dir=(-1, 0, 0), z_dir=(0, 1, 0))):
        with Locations((-254, 152.4)):
            Circle(MIRROR2_COPY_23_SKETCH_R)
    extrude(amount=-MIRROR2_COPY_23_DEPTH, mode=Mode.SUBTRACT)

    # Mirror2 copy 24 sketch → Mirror2 copy 24 (cut, through all)
    with BuildSketch(Plane(origin=(0, 4.7625, -609.6), x_dir=(-1, 0, 0), z_dir=(0, 1, 0))):
        with Locations((-254, 152.4)):
            Circle(MIRROR2_COPY_24_SKETCH_R)
    extrude(amount=-MIRROR2_COPY_24_DEPTH, mode=Mode.SUBTRACT)

    # Mirror2 copy 25 sketch → Mirror2 copy 25 (cut, through all)
    with BuildSketch(Plane(origin=(0, 4.7625, -635), x_dir=(-1, 0, 0), z_dir=(0, 1, 0))):
        with Locations((-254, 152.4)):
            Circle(MIRROR2_COPY_25_SKETCH_R)
    extrude(amount=-MIRROR2_COPY_25_DEPTH, mode=Mode.SUBTRACT)

    # Mirror2 copy 26 sketch → Mirror2 copy 26 (cut, through all)
    with BuildSketch(Plane(origin=(0, 4.7625, -660.4), x_dir=(-1, 0, 0), z_dir=(0, 1, 0))):
        with Locations((-254, 152.4)):
            Circle(MIRROR2_COPY_26_SKETCH_R)
    extrude(amount=-MIRROR2_COPY_26_DEPTH, mode=Mode.SUBTRACT)

    # Mirror2 copy 27 sketch → Mirror2 copy 27 (cut, through all)
    with BuildSketch(Plane(origin=(0, 4.7625, -685.8), x_dir=(-1, 0, 0), z_dir=(0, 1, 0))):
        with Locations((-254, 152.4)):
            Circle(MIRROR2_COPY_27_SKETCH_R)
    extrude(amount=-MIRROR2_COPY_27_DEPTH, mode=Mode.SUBTRACT)

    # Mirror2 copy 28 sketch → Mirror2 copy 28 (cut, through all)
    with BuildSketch(Plane(origin=(0, 4.7625, -711.2), x_dir=(-1, 0, 0), z_dir=(0, 1, 0))):
        with Locations((-254, 152.4)):
            Circle(MIRROR2_COPY_28_SKETCH_R)
    extrude(amount=-MIRROR2_COPY_28_DEPTH, mode=Mode.SUBTRACT)

    # Mirror2 copy 29 sketch → Mirror2 copy 29 (cut, through all)
    with BuildSketch(Plane(origin=(0, 4.7625, -736.6), x_dir=(-1, 0, 0), z_dir=(0, 1, 0))):
        with Locations((-254, 152.4)):
            Circle(MIRROR2_COPY_29_SKETCH_R)
    extrude(amount=-MIRROR2_COPY_29_DEPTH, mode=Mode.SUBTRACT)

    # Mirror2 copy 30 sketch → Mirror2 copy 30 (cut, through all)
    with BuildSketch(Plane(origin=(0, 4.7625, -762), x_dir=(-1, 0, 0), z_dir=(0, 1, 0))):
        with Locations((-254, 152.4)):
            Circle(MIRROR2_COPY_30_SKETCH_R)
    extrude(amount=-MIRROR2_COPY_30_DEPTH, mode=Mode.SUBTRACT)

    # Mirror2 copy 31 sketch → Mirror2 copy 31 (cut, through all)
    with BuildSketch(Plane(origin=(0, 4.7625, -787.4), x_dir=(-1, 0, 0), z_dir=(0, 1, 0))):
        with Locations((-254, 152.4)):
            Circle(MIRROR2_COPY_31_SKETCH_R)
    extrude(amount=-MIRROR2_COPY_31_DEPTH, mode=Mode.SUBTRACT)

    # Mirror2 copy 32 sketch → Mirror2 copy 32 (cut, through all)
    with BuildSketch(Plane(origin=(0, 4.7625, 0), x_dir=(-1, 0, 0), z_dir=(0, 1, 0))):
        with Locations((-254, 152.4)):
            Circle(MIRROR2_COPY_32_SKETCH_R)
    extrude(amount=-MIRROR2_COPY_32_DEPTH, mode=Mode.SUBTRACT)

    # Mirror3 copy 1 sketch → Mirror3 copy 1 (cut, through all)
    with BuildSketch(Plane(origin=(25.4, 4.7625, 0), x_dir=(1, 0, 0), z_dir=(0, 1, 0))):
        with Locations((-254, 152.4)):
            Circle(MIRROR3_COPY_1_SKETCH_R)
    extrude(amount=-MIRROR3_COPY_1_DEPTH, mode=Mode.SUBTRACT)

    # Mirror3 copy 2 sketch → Mirror3 copy 2 (cut, through all)
    with BuildSketch(Plane(origin=(50.8, 4.7625, 0), x_dir=(1, 0, 0), z_dir=(0, 1, 0))):
        with Locations((-254, 152.4)):
            Circle(MIRROR3_COPY_2_SKETCH_R)
    extrude(amount=-MIRROR3_COPY_2_DEPTH, mode=Mode.SUBTRACT)

    # Mirror3 copy 3 sketch → Mirror3 copy 3 (cut, through all)
    with BuildSketch(Plane(origin=(76.2, 4.7625, 0), x_dir=(1, 0, 0), z_dir=(0, 1, 0))):
        with Locations((-254, 152.4)):
            Circle(MIRROR3_COPY_3_SKETCH_R)
    extrude(amount=-MIRROR3_COPY_3_DEPTH, mode=Mode.SUBTRACT)

    # Mirror3 copy 4 sketch → Mirror3 copy 4 (cut, through all)
    with BuildSketch(Plane(origin=(101.6, 4.7625, 0), x_dir=(1, 0, 0), z_dir=(0, 1, 0))):
        with Locations((-254, 152.4)):
            Circle(MIRROR3_COPY_4_SKETCH_R)
    extrude(amount=-MIRROR3_COPY_4_DEPTH, mode=Mode.SUBTRACT)

    # Mirror3 copy 5 sketch → Mirror3 copy 5 (cut, through all)
    with BuildSketch(Plane(origin=(127, 4.7625, 0), x_dir=(1, 0, 0), z_dir=(0, 1, 0))):
        with Locations((-254, 152.4)):
            Circle(MIRROR3_COPY_5_SKETCH_R)
    extrude(amount=-MIRROR3_COPY_5_DEPTH, mode=Mode.SUBTRACT)

    # Mirror3 copy 6 sketch → Mirror3 copy 6 (cut, through all)
    with BuildSketch(Plane(origin=(152.4, 4.7625, 0), x_dir=(1, 0, 0), z_dir=(0, 1, 0))):
        with Locations((-254, 152.4)):
            Circle(MIRROR3_COPY_6_SKETCH_R)
    extrude(amount=-MIRROR3_COPY_6_DEPTH, mode=Mode.SUBTRACT)

    # Mirror3 copy 7 sketch → Mirror3 copy 7 (cut, through all)
    with BuildSketch(Plane(origin=(177.8, 4.7625, 0), x_dir=(1, 0, 0), z_dir=(0, 1, 0))):
        with Locations((-254, 152.4)):
            Circle(MIRROR3_COPY_7_SKETCH_R)
    extrude(amount=-MIRROR3_COPY_7_DEPTH, mode=Mode.SUBTRACT)

    # Mirror3 copy 8 sketch → Mirror3 copy 8 (cut, through all)
    with BuildSketch(Plane(origin=(203.2, 4.7625, 0), x_dir=(1, 0, 0), z_dir=(0, 1, 0))):
        with Locations((-254, 152.4)):
            Circle(MIRROR3_COPY_8_SKETCH_R)
    extrude(amount=-MIRROR3_COPY_8_DEPTH, mode=Mode.SUBTRACT)

    # Mirror3 copy 9 sketch → Mirror3 copy 9 (cut, through all)
    with BuildSketch(Plane(origin=(228.6, 4.7625, 0), x_dir=(1, 0, 0), z_dir=(0, 1, 0))):
        with Locations((-254, 152.4)):
            Circle(MIRROR3_COPY_9_SKETCH_R)
    extrude(amount=-MIRROR3_COPY_9_DEPTH, mode=Mode.SUBTRACT)

    # Mirror3 copy 10 sketch → Mirror3 copy 10 (cut, through all)
    with BuildSketch(Plane(origin=(254, 4.7625, 0), x_dir=(1, 0, 0), z_dir=(0, 1, 0))):
        with Locations((-254, 152.4)):
            Circle(MIRROR3_COPY_10_SKETCH_R)
    extrude(amount=-MIRROR3_COPY_10_DEPTH, mode=Mode.SUBTRACT)

    # Mirror3 copy 11 sketch → Mirror3 copy 11 (cut, through all)
    with BuildSketch(Plane(origin=(279.4, 4.7625, 0), x_dir=(1, 0, 0), z_dir=(0, 1, 0))):
        with Locations((-254, 152.4)):
            Circle(MIRROR3_COPY_11_SKETCH_R)
    extrude(amount=-MIRROR3_COPY_11_DEPTH, mode=Mode.SUBTRACT)

    # Mirror3 copy 12 sketch → Mirror3 copy 12 (cut, through all)
    with BuildSketch(Plane(origin=(304.8, 4.7625, 0), x_dir=(1, 0, 0), z_dir=(0, 1, 0))):
        with Locations((-254, 152.4)):
            Circle(MIRROR3_COPY_12_SKETCH_R)
    extrude(amount=-MIRROR3_COPY_12_DEPTH, mode=Mode.SUBTRACT)

    # Mirror3 copy 13 sketch → Mirror3 copy 13 (cut, through all)
    with BuildSketch(Plane(origin=(330.2, 4.7625, 0), x_dir=(1, 0, 0), z_dir=(0, 1, 0))):
        with Locations((-254, 152.4)):
            Circle(MIRROR3_COPY_13_SKETCH_R)
    extrude(amount=-MIRROR3_COPY_13_DEPTH, mode=Mode.SUBTRACT)

    # Mirror3 copy 14 sketch → Mirror3 copy 14 (cut, through all)
    with BuildSketch(Plane(origin=(355.6, 4.7625, 0), x_dir=(1, 0, 0), z_dir=(0, 1, 0))):
        with Locations((-254, 152.4)):
            Circle(MIRROR3_COPY_14_SKETCH_R)
    extrude(amount=-MIRROR3_COPY_14_DEPTH, mode=Mode.SUBTRACT)

    # Mirror3 copy 15 sketch → Mirror3 copy 15 (cut, through all)
    with BuildSketch(Plane(origin=(381, 4.7625, 0), x_dir=(1, 0, 0), z_dir=(0, 1, 0))):
        with Locations((-254, 152.4)):
            Circle(MIRROR3_COPY_15_SKETCH_R)
    extrude(amount=-MIRROR3_COPY_15_DEPTH, mode=Mode.SUBTRACT)

    # Mirror3 copy 16 sketch → Mirror3 copy 16 (cut, through all)
    with BuildSketch(Plane(origin=(406.4, 4.7625, 0), x_dir=(1, 0, 0), z_dir=(0, 1, 0))):
        with Locations((-254, 152.4)):
            Circle(MIRROR3_COPY_16_SKETCH_R)
    extrude(amount=-MIRROR3_COPY_16_DEPTH, mode=Mode.SUBTRACT)

    # Mirror3 copy 17 sketch → Mirror3 copy 17 (cut, through all)
    with BuildSketch(Plane(origin=(431.8, 4.7625, 0), x_dir=(1, 0, 0), z_dir=(0, 1, 0))):
        with Locations((-254, 152.4)):
            Circle(MIRROR3_COPY_17_SKETCH_R)
    extrude(amount=-MIRROR3_COPY_17_DEPTH, mode=Mode.SUBTRACT)

    # Mirror3 copy 18 sketch → Mirror3 copy 18 (cut, through all)
    with BuildSketch(Plane(origin=(457.2, 4.7625, 0), x_dir=(1, 0, 0), z_dir=(0, 1, 0))):
        with Locations((-254, 152.4)):
            Circle(MIRROR3_COPY_18_SKETCH_R)
    extrude(amount=-MIRROR3_COPY_18_DEPTH, mode=Mode.SUBTRACT)

    # Mirror3 copy 19 sketch → Mirror3 copy 19 (cut, through all)
    with BuildSketch(Plane(origin=(482.6, 4.7625, 0), x_dir=(1, 0, 0), z_dir=(0, 1, 0))):
        with Locations((-254, 152.4)):
            Circle(MIRROR3_COPY_19_SKETCH_R)
    extrude(amount=-MIRROR3_COPY_19_DEPTH, mode=Mode.SUBTRACT)

    # Mirror3 copy 20 sketch → Mirror3 copy 20 (cut, through all)
    with BuildSketch(Plane(origin=(508, 4.7625, 0), x_dir=(1, 0, 0), z_dir=(0, 1, 0))):
        with Locations((-254, 152.4)):
            Circle(MIRROR3_COPY_20_SKETCH_R)
    extrude(amount=-MIRROR3_COPY_20_DEPTH, mode=Mode.SUBTRACT)

    # Mirror3 copy 21 sketch → Mirror3 copy 21 (cut, through all)
    with BuildSketch(Plane(origin=(533.4, 4.7625, 0), x_dir=(1, 0, 0), z_dir=(0, 1, 0))):
        with Locations((-254, 152.4)):
            Circle(MIRROR3_COPY_21_SKETCH_R)
    extrude(amount=-MIRROR3_COPY_21_DEPTH, mode=Mode.SUBTRACT)

    # Mirror3 copy 22 sketch → Mirror3 copy 22 (cut, through all)
    with BuildSketch(Plane(origin=(558.8, 4.7625, 0), x_dir=(1, 0, 0), z_dir=(0, 1, 0))):
        with Locations((-254, 152.4)):
            Circle(MIRROR3_COPY_22_SKETCH_R)
    extrude(amount=-MIRROR3_COPY_22_DEPTH, mode=Mode.SUBTRACT)

    # Mirror3 copy 23 sketch → Mirror3 copy 23 (cut, through all)
    with BuildSketch(Plane(origin=(0, 4.7625, 0), x_dir=(1, 0, 0), z_dir=(0, 1, 0))):
        with Locations((-254, 152.4)):
            Circle(MIRROR3_COPY_23_SKETCH_R)
    extrude(amount=-MIRROR3_COPY_23_DEPTH, mode=Mode.SUBTRACT)

    # Sketch3 → Cut-Extrude2 (cut)
    with BuildSketch(Plane.XZ):
        with BuildLine():
            Line((-266.7, 142.875), (-241.3, 142.875))
            ThreePointArc((-241.3, 142.875), (-239.05493597, 141.94506403), (-238.125, 139.7))
            Line((-238.125, 139.7), (-238.125, 88.9))
            ThreePointArc((-238.125, 88.9), (-239.05493597, 86.65493597), (-241.3, 85.725))
            Line((-241.3, 85.725), (-266.7, 85.725))
            Line((-266.7, 85.725), (-266.7, 142.875))
        make_face()
        with BuildLine():
            Line((266.7, 85.725), (241.3, 85.725))
            ThreePointArc((241.3, 85.725), (239.05493597, 86.65493597), (238.125, 88.9))
            Line((238.125, 88.9), (238.125, 139.7))
            ThreePointArc((238.125, 139.7), (239.05493597, 141.94506403), (241.3, 142.875))
            Line((241.3, 142.875), (266.7, 142.875))
            Line((266.7, 142.875), (266.7, 85.725))
        make_face()
    extrude(amount=-CUT_EXTRUDE2_DEPTH, mode=Mode.SUBTRACT)

    # Sketch4 → Cut-Extrude3 (cut, through all)
    with BuildSketch(Plane(origin=(0, 4.7625, 0), x_dir=(1, 0, 0), z_dir=(0, 1, 0))):
        with Locations((231.775, 38.1)):
            Rectangle(SKETCH4_W, SKETCH4_H)
        with Locations((-231.775, 38.1)):
            Rectangle(SKETCH4_W, SKETCH4_H)
    extrude(amount=-CUT_EXTRUDE3_DEPTH, mode=Mode.SUBTRACT)


solid = part.part
